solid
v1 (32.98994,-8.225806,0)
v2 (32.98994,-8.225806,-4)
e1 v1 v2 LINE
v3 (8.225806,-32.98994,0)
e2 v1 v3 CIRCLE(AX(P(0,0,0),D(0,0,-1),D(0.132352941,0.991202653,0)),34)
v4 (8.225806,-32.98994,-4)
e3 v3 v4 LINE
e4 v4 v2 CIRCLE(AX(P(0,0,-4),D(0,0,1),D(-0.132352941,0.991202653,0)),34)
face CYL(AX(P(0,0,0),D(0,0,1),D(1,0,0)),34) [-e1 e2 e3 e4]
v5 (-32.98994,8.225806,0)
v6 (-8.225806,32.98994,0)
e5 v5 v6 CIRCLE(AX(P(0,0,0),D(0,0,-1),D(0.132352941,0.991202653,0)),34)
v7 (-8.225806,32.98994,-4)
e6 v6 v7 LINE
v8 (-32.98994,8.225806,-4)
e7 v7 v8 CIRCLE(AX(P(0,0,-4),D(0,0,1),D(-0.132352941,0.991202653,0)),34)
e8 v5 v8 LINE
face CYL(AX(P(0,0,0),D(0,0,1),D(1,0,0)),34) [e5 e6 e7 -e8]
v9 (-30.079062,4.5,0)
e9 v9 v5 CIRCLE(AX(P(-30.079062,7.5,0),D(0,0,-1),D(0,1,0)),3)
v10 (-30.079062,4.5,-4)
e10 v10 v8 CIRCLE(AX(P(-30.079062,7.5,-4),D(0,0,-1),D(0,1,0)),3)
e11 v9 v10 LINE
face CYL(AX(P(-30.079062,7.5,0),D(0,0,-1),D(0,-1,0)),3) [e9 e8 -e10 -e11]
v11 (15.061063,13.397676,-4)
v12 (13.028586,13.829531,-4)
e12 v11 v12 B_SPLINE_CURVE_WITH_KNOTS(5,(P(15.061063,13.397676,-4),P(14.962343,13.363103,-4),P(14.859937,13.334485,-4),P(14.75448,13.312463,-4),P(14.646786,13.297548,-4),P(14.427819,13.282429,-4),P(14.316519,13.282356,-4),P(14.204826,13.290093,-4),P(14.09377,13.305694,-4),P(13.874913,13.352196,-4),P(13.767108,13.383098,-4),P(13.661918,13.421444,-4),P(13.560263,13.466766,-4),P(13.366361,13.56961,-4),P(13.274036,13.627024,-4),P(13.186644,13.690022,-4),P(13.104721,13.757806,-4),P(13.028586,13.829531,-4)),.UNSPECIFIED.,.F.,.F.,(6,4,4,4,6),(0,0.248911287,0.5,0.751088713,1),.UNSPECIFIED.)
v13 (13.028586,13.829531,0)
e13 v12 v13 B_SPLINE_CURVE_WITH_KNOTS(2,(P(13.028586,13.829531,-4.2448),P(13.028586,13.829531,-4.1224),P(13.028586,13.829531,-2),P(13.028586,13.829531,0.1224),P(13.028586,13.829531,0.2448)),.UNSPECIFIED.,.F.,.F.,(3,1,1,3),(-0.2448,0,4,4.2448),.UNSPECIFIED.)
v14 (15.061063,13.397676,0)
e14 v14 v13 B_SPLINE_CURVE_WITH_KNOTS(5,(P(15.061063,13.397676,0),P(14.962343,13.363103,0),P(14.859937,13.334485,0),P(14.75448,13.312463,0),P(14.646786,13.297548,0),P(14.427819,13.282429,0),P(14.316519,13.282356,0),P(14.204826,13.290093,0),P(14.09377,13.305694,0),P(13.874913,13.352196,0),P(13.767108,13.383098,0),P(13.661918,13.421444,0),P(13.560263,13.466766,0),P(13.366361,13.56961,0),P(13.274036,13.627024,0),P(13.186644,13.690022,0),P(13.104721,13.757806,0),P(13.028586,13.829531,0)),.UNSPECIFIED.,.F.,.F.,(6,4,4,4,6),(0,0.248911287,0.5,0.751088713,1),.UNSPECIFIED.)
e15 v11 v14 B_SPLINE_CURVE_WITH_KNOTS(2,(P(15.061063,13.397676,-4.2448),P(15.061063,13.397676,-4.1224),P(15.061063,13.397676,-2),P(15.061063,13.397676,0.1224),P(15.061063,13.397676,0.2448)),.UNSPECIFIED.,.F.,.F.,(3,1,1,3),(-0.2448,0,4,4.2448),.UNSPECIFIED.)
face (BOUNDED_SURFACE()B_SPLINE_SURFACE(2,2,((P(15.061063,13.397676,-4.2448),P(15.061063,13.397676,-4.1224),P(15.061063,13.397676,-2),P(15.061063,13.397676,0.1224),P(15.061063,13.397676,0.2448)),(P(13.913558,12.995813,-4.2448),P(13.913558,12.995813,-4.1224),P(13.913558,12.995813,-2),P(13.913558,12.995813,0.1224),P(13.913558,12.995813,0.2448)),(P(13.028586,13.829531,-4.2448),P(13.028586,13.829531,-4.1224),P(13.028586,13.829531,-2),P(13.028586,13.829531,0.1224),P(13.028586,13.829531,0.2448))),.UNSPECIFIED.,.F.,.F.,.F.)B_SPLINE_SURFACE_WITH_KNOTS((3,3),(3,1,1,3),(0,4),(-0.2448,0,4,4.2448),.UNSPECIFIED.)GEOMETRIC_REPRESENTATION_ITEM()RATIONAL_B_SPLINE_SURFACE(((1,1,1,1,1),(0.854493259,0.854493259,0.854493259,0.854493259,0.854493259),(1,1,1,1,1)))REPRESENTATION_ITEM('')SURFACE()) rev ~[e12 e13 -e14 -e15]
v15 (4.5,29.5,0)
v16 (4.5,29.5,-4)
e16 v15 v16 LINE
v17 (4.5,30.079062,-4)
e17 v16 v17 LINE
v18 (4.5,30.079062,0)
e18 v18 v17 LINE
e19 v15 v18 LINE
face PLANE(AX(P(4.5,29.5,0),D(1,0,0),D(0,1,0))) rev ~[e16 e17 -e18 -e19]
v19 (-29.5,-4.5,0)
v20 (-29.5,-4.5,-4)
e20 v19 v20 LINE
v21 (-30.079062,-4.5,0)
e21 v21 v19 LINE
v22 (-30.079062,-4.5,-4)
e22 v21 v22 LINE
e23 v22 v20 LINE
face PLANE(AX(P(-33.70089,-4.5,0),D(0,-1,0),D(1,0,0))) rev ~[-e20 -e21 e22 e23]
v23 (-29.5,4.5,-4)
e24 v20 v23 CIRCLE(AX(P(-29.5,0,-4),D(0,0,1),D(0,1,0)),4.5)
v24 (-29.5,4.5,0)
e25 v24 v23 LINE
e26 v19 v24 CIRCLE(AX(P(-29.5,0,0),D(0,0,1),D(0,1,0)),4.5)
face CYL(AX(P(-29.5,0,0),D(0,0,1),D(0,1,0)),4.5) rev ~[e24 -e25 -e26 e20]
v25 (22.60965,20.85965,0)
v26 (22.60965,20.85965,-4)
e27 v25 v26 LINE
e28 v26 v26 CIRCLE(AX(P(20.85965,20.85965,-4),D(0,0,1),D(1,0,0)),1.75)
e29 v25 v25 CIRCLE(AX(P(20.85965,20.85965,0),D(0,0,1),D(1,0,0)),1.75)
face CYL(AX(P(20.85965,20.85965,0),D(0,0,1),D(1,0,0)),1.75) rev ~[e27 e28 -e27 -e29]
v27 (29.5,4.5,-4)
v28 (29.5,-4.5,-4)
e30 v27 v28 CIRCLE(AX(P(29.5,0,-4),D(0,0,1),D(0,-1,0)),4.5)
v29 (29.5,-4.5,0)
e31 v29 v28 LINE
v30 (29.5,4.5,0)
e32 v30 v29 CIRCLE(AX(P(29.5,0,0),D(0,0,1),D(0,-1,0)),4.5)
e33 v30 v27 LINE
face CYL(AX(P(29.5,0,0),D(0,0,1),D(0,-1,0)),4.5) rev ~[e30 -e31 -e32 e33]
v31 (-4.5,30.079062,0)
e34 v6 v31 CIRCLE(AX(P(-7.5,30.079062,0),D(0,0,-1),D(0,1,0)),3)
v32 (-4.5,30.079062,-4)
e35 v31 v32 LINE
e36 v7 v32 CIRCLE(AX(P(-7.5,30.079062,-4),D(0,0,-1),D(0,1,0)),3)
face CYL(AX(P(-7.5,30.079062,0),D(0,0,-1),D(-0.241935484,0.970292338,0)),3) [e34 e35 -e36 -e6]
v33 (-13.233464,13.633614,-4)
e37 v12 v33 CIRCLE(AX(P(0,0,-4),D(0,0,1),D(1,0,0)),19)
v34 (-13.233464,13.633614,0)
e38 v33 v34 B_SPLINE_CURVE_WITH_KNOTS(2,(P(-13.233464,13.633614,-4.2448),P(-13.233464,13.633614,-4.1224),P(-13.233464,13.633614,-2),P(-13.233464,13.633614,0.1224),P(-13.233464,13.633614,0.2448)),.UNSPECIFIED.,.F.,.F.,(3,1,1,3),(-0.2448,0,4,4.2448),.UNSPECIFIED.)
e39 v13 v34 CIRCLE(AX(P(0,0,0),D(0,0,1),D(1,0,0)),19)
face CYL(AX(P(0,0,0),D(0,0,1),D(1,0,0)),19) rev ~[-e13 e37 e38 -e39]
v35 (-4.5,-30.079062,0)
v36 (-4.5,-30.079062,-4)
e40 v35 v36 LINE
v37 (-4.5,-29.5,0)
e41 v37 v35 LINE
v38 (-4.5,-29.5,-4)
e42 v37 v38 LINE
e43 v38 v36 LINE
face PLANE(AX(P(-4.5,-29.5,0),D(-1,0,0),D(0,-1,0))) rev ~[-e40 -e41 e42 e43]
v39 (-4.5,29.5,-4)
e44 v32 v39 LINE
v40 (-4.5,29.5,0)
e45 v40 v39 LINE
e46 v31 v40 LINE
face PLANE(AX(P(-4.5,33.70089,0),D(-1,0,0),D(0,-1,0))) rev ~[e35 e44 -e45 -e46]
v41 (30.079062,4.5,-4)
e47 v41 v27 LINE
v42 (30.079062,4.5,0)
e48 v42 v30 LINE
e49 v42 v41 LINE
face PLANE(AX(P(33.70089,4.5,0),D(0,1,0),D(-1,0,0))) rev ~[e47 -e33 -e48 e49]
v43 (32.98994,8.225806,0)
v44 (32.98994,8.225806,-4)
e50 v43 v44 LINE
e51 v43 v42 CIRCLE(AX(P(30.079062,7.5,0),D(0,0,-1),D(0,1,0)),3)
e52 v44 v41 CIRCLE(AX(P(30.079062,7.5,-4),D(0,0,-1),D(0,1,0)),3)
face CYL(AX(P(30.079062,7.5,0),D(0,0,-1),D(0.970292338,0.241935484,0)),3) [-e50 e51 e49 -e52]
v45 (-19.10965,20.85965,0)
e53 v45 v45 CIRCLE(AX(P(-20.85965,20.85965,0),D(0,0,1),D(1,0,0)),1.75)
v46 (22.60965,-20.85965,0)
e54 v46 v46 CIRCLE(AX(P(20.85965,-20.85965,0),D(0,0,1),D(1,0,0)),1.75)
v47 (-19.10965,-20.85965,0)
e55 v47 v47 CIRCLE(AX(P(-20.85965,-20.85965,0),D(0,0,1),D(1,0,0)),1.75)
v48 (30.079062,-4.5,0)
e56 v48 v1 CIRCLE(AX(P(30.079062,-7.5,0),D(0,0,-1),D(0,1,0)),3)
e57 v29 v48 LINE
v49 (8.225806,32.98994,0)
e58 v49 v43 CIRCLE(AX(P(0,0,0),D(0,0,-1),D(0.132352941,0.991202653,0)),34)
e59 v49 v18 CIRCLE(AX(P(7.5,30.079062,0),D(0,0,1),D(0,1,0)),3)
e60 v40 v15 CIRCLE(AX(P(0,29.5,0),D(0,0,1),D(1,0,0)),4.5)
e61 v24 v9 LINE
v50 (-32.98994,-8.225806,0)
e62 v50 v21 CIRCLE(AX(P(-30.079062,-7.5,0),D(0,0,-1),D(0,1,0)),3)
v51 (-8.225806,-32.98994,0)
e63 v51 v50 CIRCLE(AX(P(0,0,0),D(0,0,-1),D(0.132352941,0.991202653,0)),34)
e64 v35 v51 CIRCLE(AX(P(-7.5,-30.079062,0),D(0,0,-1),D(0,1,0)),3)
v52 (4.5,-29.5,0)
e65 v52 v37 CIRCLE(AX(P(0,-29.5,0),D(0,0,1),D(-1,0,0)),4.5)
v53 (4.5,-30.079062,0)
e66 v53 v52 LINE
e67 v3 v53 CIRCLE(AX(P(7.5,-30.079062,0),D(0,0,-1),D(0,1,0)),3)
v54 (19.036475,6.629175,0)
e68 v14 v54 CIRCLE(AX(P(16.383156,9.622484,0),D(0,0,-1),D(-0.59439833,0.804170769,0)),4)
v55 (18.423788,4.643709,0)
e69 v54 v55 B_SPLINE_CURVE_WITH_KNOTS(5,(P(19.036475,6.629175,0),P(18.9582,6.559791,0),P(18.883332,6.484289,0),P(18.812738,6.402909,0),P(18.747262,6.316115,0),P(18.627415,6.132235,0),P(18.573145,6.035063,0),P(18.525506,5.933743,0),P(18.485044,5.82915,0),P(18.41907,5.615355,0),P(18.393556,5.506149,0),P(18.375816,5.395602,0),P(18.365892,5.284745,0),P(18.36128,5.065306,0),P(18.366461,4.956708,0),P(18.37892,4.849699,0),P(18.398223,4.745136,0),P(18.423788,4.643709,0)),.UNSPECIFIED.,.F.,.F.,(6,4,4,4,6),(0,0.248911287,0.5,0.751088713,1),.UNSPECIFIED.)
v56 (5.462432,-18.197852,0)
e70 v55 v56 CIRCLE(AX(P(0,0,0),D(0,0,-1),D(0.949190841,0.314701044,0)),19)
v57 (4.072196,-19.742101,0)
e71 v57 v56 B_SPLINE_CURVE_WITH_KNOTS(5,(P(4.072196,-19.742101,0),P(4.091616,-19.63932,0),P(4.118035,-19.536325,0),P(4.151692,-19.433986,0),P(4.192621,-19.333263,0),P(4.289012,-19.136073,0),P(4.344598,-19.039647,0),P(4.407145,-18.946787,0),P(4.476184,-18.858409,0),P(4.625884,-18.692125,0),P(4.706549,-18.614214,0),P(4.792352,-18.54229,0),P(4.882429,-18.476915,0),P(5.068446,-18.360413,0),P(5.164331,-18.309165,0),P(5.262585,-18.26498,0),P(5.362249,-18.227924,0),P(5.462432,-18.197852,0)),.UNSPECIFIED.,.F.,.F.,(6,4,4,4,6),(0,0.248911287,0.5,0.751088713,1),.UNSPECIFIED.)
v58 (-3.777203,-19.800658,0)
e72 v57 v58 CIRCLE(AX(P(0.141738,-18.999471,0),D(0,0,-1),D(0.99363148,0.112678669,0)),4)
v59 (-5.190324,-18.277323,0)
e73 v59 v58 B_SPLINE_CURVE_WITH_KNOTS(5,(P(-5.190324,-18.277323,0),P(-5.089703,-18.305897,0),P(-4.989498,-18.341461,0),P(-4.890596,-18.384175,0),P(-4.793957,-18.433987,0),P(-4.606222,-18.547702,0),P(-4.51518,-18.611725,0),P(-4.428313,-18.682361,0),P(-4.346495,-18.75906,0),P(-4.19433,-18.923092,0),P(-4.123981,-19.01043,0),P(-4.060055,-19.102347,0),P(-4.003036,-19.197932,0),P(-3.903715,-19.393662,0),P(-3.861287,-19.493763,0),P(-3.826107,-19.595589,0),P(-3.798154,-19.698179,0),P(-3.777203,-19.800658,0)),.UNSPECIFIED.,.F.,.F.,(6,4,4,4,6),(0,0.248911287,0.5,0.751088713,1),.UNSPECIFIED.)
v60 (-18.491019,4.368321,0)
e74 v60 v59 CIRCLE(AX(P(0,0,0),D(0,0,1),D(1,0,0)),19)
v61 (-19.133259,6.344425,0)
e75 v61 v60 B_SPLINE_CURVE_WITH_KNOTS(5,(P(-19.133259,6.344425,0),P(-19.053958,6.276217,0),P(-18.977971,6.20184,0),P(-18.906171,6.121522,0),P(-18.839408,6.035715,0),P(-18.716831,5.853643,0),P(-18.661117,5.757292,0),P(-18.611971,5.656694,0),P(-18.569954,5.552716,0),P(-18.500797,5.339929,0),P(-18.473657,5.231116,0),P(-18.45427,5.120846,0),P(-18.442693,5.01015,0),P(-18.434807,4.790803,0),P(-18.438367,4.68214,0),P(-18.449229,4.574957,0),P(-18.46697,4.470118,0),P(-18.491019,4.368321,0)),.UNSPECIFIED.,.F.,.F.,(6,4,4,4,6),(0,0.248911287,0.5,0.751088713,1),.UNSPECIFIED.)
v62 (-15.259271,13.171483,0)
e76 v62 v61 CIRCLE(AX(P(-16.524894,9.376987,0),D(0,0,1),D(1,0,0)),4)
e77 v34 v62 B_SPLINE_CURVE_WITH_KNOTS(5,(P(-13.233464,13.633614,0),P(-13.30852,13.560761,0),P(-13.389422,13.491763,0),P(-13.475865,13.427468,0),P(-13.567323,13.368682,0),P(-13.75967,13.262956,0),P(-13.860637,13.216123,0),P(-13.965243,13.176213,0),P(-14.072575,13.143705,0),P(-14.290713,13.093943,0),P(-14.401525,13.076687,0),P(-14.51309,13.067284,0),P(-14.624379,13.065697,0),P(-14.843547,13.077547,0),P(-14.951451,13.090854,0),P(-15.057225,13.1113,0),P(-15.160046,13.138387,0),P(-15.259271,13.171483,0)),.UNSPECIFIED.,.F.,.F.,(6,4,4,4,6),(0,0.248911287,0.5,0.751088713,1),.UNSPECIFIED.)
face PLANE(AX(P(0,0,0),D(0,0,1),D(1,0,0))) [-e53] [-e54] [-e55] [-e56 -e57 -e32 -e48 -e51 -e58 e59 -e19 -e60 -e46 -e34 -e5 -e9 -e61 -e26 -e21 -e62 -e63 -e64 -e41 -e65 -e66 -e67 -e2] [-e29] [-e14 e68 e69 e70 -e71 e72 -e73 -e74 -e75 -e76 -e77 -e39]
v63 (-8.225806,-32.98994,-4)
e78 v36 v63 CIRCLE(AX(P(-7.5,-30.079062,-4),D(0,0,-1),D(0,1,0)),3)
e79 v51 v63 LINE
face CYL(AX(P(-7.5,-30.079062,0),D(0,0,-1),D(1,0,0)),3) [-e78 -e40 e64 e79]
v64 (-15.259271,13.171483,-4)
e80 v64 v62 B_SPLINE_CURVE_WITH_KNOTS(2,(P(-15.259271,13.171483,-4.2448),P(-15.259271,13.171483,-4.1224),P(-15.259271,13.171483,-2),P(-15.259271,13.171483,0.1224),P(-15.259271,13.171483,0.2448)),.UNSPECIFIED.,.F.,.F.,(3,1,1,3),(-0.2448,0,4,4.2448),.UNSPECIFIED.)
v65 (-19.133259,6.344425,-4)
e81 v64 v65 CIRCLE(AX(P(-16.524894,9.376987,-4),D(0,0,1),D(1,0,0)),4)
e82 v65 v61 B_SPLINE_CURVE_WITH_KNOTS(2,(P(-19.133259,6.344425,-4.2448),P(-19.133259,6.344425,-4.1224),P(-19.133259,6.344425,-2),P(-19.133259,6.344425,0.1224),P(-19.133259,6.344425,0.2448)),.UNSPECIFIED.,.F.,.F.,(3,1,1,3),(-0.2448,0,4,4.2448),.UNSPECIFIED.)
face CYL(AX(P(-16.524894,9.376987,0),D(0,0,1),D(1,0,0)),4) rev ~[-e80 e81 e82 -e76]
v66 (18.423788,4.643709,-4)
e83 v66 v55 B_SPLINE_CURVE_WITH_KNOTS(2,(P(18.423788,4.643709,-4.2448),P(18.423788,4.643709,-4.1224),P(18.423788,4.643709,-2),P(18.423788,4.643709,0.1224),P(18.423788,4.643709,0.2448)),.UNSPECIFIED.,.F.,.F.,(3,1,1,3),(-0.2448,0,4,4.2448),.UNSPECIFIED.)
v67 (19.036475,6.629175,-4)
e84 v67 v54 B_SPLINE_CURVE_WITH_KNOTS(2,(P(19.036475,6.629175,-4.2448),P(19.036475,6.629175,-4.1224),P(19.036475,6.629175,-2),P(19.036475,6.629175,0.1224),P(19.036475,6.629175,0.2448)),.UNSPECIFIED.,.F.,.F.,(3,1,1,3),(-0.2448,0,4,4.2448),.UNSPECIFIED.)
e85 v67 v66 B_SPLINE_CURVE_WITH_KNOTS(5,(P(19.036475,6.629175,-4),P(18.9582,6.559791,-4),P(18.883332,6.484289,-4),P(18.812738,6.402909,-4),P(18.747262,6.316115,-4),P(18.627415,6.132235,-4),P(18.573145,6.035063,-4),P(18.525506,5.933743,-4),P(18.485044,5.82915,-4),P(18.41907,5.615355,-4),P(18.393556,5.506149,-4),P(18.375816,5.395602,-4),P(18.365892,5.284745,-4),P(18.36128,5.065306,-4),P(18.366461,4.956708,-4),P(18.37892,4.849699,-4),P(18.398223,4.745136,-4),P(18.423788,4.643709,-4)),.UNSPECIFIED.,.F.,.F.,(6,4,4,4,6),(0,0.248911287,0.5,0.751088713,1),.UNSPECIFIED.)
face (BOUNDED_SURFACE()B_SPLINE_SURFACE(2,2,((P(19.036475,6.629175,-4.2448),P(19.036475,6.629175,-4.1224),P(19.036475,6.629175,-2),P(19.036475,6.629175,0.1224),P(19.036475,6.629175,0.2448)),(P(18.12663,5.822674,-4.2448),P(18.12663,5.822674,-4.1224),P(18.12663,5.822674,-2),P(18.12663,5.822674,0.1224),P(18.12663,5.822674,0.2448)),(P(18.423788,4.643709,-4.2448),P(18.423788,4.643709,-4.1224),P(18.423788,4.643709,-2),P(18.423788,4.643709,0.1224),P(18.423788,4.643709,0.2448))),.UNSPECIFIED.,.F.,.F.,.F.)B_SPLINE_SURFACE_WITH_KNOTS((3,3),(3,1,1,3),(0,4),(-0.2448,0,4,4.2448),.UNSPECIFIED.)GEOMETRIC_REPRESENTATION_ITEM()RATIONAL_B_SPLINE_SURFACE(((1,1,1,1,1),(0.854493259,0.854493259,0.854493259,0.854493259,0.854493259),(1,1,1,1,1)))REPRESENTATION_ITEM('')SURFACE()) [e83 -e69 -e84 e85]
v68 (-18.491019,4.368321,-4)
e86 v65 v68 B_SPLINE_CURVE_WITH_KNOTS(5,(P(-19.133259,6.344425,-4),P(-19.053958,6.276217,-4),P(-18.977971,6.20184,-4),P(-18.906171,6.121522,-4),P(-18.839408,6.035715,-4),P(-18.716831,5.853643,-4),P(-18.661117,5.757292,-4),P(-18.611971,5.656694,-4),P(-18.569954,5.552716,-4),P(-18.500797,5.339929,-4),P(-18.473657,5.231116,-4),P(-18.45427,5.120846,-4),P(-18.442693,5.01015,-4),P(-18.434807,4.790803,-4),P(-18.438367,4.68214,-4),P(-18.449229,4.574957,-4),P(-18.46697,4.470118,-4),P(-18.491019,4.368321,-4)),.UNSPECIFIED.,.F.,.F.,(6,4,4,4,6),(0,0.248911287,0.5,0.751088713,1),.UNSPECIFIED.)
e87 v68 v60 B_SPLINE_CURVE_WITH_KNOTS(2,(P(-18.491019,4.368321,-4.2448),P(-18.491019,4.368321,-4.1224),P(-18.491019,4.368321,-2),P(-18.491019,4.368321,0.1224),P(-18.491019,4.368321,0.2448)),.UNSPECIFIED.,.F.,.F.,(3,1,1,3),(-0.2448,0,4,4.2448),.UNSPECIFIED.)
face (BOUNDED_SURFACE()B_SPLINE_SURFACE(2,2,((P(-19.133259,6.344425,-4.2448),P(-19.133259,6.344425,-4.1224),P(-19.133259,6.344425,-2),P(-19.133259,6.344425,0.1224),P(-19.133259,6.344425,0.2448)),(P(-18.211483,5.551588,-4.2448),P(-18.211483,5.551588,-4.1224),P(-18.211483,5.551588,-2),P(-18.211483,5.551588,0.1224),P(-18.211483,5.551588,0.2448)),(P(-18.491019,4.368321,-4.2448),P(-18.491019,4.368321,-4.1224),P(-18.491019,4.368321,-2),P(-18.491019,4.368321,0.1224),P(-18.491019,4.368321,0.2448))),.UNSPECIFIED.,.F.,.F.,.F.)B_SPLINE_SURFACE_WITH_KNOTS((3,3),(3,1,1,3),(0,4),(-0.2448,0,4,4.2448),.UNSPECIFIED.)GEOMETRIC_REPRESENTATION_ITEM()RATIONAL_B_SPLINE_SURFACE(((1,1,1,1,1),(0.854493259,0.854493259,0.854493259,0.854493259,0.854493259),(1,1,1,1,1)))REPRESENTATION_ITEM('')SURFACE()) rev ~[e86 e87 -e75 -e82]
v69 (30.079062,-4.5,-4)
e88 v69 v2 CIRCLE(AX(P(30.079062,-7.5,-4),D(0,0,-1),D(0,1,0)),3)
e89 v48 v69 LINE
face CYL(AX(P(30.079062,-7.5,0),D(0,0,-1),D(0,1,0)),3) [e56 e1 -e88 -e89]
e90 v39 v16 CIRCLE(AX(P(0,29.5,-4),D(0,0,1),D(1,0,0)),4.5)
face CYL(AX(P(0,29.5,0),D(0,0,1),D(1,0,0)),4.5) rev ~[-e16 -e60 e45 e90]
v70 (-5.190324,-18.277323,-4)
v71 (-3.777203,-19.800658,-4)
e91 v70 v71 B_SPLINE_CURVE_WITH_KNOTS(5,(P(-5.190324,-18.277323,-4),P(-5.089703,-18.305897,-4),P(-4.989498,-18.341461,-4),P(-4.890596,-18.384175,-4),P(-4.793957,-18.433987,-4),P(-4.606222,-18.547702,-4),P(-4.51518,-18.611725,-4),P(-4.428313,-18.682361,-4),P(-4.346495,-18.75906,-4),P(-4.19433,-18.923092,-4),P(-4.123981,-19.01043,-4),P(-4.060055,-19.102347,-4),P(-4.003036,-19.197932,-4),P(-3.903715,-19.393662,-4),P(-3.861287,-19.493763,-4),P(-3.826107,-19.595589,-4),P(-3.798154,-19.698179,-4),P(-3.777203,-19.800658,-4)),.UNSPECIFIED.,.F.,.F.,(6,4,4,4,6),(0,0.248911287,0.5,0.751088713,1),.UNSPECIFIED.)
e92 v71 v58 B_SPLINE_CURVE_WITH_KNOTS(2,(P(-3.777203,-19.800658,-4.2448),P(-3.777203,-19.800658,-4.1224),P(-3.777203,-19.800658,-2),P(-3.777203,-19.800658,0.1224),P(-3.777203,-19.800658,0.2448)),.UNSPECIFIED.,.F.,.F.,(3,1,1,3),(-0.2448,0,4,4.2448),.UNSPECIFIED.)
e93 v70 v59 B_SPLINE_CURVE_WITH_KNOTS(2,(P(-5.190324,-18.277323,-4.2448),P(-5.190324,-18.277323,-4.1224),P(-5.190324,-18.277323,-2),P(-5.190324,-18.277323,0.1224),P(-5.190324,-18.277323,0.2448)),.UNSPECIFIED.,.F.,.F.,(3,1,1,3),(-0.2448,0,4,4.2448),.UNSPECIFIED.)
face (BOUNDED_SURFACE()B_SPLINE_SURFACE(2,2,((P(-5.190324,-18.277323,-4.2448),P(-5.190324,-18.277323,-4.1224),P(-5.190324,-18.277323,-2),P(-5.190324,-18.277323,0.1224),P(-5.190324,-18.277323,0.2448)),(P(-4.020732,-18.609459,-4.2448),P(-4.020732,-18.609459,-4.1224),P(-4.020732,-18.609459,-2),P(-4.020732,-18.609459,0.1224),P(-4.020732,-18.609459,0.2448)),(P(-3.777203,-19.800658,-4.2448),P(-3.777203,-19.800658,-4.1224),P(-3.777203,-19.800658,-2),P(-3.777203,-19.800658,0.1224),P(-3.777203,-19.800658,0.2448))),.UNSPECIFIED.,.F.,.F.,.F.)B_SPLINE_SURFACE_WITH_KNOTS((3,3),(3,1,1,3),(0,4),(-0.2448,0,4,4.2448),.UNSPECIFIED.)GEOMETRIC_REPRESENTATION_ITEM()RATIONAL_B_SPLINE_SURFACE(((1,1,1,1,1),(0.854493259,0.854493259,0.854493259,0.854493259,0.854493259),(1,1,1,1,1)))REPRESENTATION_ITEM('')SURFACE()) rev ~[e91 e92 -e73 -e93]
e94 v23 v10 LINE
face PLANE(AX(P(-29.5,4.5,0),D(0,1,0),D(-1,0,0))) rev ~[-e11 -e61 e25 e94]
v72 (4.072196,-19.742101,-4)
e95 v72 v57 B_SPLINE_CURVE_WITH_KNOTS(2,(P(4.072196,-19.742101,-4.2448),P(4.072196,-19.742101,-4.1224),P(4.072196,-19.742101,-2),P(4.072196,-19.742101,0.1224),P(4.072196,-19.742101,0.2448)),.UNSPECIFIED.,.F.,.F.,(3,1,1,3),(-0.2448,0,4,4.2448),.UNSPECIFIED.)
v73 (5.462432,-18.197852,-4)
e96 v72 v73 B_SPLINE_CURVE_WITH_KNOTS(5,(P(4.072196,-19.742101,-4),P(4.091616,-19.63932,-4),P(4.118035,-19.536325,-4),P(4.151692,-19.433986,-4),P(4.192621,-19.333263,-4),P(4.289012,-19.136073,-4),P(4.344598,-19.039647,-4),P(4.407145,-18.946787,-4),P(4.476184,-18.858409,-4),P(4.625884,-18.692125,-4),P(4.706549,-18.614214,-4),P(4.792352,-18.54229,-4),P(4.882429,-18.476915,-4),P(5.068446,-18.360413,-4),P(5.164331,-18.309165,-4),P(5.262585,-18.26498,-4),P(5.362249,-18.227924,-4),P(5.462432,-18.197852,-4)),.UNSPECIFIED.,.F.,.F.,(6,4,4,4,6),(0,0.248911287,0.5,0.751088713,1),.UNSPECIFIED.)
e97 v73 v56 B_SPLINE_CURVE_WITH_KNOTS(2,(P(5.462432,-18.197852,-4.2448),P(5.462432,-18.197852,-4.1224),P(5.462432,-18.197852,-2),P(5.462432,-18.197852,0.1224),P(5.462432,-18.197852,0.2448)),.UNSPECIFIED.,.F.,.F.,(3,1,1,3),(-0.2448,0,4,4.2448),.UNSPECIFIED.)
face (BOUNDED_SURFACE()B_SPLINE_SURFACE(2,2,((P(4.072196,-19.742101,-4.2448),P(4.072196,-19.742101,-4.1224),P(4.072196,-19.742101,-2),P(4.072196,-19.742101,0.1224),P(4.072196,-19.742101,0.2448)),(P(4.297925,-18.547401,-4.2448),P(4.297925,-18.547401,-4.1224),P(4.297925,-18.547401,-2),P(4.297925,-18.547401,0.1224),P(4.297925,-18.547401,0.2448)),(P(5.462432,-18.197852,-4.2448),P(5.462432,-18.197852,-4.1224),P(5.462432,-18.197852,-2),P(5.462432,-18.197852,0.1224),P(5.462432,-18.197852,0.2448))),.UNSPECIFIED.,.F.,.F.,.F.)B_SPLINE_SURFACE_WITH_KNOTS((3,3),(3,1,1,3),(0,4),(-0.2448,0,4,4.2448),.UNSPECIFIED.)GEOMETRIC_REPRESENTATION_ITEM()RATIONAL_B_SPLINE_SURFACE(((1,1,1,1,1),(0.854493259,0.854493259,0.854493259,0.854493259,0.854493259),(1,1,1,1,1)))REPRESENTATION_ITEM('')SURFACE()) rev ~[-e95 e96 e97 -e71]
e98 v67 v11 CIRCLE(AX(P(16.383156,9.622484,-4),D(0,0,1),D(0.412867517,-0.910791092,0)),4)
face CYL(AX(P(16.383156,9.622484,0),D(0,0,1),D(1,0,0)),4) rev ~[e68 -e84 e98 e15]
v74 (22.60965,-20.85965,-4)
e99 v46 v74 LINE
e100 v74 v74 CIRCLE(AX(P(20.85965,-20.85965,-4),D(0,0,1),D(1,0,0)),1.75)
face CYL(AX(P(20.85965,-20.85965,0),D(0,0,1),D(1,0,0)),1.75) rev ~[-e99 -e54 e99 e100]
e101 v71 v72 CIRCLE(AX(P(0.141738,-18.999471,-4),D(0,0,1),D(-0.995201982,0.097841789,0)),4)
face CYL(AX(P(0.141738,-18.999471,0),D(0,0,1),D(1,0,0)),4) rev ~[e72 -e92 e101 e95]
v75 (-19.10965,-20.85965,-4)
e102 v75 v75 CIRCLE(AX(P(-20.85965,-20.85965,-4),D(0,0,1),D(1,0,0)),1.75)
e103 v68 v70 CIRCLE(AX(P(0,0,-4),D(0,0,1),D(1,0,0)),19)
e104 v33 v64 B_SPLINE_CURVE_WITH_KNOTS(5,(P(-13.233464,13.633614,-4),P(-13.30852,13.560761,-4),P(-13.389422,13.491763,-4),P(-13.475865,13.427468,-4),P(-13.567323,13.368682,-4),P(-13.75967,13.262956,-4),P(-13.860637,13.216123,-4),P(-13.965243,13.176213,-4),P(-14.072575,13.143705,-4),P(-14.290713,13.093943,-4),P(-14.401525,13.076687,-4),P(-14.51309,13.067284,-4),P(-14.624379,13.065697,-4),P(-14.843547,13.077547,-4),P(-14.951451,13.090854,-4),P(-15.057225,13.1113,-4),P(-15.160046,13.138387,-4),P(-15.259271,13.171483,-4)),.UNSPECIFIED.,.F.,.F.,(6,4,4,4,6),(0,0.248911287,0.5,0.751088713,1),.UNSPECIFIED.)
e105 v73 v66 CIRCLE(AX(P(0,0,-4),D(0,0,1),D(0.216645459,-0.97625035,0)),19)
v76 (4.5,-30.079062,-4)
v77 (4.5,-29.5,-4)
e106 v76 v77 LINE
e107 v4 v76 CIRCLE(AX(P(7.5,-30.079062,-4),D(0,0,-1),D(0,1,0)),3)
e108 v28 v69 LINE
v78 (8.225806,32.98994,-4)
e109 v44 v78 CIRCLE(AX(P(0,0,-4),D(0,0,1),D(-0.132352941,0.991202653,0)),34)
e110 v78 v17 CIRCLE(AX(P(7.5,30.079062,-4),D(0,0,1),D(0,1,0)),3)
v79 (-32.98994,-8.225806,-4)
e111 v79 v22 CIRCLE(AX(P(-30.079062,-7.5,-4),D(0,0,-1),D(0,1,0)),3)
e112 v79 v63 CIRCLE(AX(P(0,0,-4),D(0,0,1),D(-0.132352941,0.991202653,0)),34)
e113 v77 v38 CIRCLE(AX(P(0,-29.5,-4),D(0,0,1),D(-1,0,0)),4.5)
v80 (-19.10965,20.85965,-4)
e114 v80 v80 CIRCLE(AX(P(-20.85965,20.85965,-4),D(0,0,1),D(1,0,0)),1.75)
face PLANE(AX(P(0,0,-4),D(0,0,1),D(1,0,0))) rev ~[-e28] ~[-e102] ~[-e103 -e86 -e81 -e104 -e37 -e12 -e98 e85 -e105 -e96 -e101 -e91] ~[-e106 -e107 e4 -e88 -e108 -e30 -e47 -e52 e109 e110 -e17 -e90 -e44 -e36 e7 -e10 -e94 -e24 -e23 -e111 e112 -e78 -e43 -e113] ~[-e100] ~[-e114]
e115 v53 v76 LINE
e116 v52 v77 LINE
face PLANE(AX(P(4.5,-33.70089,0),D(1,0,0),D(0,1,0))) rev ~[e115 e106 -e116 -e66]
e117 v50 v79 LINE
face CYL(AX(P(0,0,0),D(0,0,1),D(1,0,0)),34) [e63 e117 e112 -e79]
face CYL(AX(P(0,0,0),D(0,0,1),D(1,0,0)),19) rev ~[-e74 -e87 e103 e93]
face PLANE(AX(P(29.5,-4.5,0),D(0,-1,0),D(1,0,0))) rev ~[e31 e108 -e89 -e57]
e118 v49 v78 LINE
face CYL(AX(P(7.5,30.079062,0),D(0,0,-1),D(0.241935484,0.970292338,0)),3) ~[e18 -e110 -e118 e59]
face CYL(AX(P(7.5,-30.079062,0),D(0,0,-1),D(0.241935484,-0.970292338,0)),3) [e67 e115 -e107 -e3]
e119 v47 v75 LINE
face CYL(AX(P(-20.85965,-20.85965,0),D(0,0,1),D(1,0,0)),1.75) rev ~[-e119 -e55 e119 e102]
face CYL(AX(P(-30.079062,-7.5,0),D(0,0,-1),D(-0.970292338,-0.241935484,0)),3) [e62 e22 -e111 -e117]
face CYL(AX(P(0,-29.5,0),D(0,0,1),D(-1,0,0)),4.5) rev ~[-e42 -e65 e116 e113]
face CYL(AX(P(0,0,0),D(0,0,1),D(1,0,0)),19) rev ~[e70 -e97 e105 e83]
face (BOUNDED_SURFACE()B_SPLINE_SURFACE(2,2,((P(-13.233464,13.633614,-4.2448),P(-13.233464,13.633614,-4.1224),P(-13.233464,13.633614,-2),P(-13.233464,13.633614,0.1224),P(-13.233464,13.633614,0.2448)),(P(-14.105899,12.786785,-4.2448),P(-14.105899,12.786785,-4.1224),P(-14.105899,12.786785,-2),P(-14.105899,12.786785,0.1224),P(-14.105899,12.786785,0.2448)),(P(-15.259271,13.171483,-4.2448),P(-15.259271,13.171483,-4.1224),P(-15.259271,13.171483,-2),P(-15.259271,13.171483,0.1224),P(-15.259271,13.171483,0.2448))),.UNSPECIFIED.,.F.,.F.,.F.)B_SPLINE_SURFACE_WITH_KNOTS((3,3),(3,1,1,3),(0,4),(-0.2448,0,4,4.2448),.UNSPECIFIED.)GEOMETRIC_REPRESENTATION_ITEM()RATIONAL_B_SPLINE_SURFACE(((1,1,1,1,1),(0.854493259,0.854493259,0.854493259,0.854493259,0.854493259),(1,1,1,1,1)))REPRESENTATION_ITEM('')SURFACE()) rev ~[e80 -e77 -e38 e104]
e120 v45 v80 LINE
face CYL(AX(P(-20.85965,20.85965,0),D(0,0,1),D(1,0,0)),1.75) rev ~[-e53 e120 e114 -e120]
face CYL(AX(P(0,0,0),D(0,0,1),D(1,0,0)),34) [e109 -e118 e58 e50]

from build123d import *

# Parameters (mm, degrees)
SKETCH5_R                = 34
SKETCH5_R_2              = 19
BOSS_EXTRUDE1_DEPTH      = 4
SKETCH8_R                = 1.75
CUT_EXTRUDE3_DEPTH       = 5
SKETCH27_R               = 1.75
CUT_EXTRUDE9_DEPTH       = 5
SKETCH28_R               = 4.5
SKETCH28_R_2             = 1.75
CUT_EXTRUDE10_DEPTH      = 10
FILLET1_R                = 3
CIRPATTERN1_COUNT        = 4
FILLET1_OF_CIRPATTERN1_R = 3
SKETCH32_R               = 4
CUT_EXTRUDE11_DEPTH      = 10
FILLET2_R                = 2


with BuildPart() as part:
    # Sketch5 → Boss-Extrude1 (new body)
    with BuildSketch(Plane.XY):
        Circle(SKETCH5_R)
        Circle(SKETCH5_R_2, mode=Mode.SUBTRACT)
    extrude(amount=-BOSS_EXTRUDE1_DEPTH)

    # Sketch8 → Cut-Extrude3 (cut)
    with BuildSketch(Plane.XY):
        with Locations((20.859650045, 20.859650045)):
            Circle(SKETCH8_R)
        with Locations((-20.859650045, 20.859650045)):
            Circle(SKETCH8_R)
        with Locations((-20.859650045, -20.859650045)):
            Circle(SKETCH8_R)
        with Locations((20.859650045, -20.859650045)):
            Circle(SKETCH8_R)
    extrude(amount=-CUT_EXTRUDE3_DEPTH, mode=Mode.SUBTRACT)

    # Sketch27 → Cut-Extrude9 (cut)
    with BuildSketch(Plane.XY):
        with Locations((0, 29.5)):
            Circle(SKETCH27_R)
        with Locations((29.5, 0)):
            Circle(SKETCH27_R)
        with Locations((0, -29.5)):
            Circle(SKETCH27_R)
        with Locations((-29.5, 0)):
            Circle(SKETCH27_R)
    extrude(amount=-CUT_EXTRUDE9_DEPTH, mode=Mode.SUBTRACT)

    # Sketch28 → Cut-Extrude10 (cut)
    # profile 1 of 4: a face of its own
    with BuildSketch(Plane.XY):
        with BuildLine():
            Line((-4.5, 40.049875312), (-4.5, 33.700890196))
            ThreePointArc((-4.5, 33.700890196), (-2.254964893, 33.925140137), (0, 34))
            ThreePointArc((0, 34), (2.254964893, 33.925140137), (4.5, 33.700890196))
            Line((4.5, 33.700890196), (4.5, 40.049875312))
            Line((4.5, 40.049875312), (-4.5, 40.049875312))
        make_face()
    # profile 2 of 4: a face of its own
    with BuildSketch(Plane.XY):
        with BuildLine():
            Line((-4.5, 33.700890196), (-4.5, 29.5))
            ThreePointArc((-4.5, 29.5), (-3.181980515, 32.681980515), (0, 34))
            ThreePointArc((0, 34), (-2.254964893, 33.925140137), (-4.5, 33.700890196))
        make_face()
    # profile 3 of 4: a face of its own
    with BuildSketch(Plane.XY):
        with BuildLine():
            ThreePointArc((0, 34), (3.181980515, 32.681980515), (4.5, 29.5))
            Line((4.5, 29.5), (4.5, 33.700890196))
            ThreePointArc((4.5, 33.700890196), (2.254964893, 33.925140137), (0, 34))
        make_face()
    # profile 4 of 4: a face of its own
    with BuildSketch(Plane.XY):
        with Locations((0, 29.5)):
            Circle(SKETCH28_R)
        with Locations((0, 29.5)):
            Circle(SKETCH28_R_2, mode=Mode.SUBTRACT)
    cut_extrude10 = extrude(amount=-CUT_EXTRUDE10_DEPTH, mode=Mode.SUBTRACT)

    # Fillet1
    fillet1_edges = [part.edges().sort_by_distance(p)[0] for p in [
        (-4.5, 33.700890196, -2),
        (4.5, 33.700890196, -2),
    ]]
    fillet(fillet1_edges, radius=FILLET1_R)

    # CirPattern1: Cut-Extrude10 ×4 about axis
    cirpattern1_axis = Axis((0, 0, 0), (0, 0, 1))
    for i in range(1, CIRPATTERN1_COUNT):
        add(cut_extrude10.rotate(cirpattern1_axis, i * 360 / CIRPATTERN1_COUNT), mode=Mode.SUBTRACT)

    # Fillet1 of CirPattern1
    fillet1_of_cirpattern1_edges = [part.edges().sort_by_distance(p)[0] for p in [
        (-33.700890196, -4.5, -2),
        (-33.700890196, 4.5, -2),
        (4.5, -33.700890196, -2),
        (-4.5, -33.700890196, -2),
        (33.700890196, 4.5, -2),
        (33.700890196, -4.5, -2),
    ]]
    fillet(fillet1_of_cirpattern1_edges, radius=FILLET1_OF_CIRPATTERN1_R)

    # Sketch32 → Cut-Extrude11 (cut)
    with BuildSketch(Plane.XY):
        with Locations((-16.524893724, 9.376987118)):
            Circle(SKETCH32_R)
        with Locations((16.383155917, 9.622484201)):
            Circle(SKETCH32_R)
        with Locations((0.141737807, -18.999471319)):
            Circle(SKETCH32_R)
    extrude(amount=-CUT_EXTRUDE11_DEPTH, mode=Mode.SUBTRACT)

    # Fillet2
    fillet2_edges = [part.edges().sort_by_distance(p)[0] for p in [
        (-3.83907012, -18.608104165, -2),
        (4.116263726, -18.548756641, -2),
        (18.034625983, 5.979319831, -2),
        (14.005562597, 12.839167276, -2),
        (-14.195555863, 12.628784333, -2),
        (-18.121826323, 5.709589366, -2),
    ]]
    fillet(fillet2_edges, radius=FILLET2_R)


solid = part.part
